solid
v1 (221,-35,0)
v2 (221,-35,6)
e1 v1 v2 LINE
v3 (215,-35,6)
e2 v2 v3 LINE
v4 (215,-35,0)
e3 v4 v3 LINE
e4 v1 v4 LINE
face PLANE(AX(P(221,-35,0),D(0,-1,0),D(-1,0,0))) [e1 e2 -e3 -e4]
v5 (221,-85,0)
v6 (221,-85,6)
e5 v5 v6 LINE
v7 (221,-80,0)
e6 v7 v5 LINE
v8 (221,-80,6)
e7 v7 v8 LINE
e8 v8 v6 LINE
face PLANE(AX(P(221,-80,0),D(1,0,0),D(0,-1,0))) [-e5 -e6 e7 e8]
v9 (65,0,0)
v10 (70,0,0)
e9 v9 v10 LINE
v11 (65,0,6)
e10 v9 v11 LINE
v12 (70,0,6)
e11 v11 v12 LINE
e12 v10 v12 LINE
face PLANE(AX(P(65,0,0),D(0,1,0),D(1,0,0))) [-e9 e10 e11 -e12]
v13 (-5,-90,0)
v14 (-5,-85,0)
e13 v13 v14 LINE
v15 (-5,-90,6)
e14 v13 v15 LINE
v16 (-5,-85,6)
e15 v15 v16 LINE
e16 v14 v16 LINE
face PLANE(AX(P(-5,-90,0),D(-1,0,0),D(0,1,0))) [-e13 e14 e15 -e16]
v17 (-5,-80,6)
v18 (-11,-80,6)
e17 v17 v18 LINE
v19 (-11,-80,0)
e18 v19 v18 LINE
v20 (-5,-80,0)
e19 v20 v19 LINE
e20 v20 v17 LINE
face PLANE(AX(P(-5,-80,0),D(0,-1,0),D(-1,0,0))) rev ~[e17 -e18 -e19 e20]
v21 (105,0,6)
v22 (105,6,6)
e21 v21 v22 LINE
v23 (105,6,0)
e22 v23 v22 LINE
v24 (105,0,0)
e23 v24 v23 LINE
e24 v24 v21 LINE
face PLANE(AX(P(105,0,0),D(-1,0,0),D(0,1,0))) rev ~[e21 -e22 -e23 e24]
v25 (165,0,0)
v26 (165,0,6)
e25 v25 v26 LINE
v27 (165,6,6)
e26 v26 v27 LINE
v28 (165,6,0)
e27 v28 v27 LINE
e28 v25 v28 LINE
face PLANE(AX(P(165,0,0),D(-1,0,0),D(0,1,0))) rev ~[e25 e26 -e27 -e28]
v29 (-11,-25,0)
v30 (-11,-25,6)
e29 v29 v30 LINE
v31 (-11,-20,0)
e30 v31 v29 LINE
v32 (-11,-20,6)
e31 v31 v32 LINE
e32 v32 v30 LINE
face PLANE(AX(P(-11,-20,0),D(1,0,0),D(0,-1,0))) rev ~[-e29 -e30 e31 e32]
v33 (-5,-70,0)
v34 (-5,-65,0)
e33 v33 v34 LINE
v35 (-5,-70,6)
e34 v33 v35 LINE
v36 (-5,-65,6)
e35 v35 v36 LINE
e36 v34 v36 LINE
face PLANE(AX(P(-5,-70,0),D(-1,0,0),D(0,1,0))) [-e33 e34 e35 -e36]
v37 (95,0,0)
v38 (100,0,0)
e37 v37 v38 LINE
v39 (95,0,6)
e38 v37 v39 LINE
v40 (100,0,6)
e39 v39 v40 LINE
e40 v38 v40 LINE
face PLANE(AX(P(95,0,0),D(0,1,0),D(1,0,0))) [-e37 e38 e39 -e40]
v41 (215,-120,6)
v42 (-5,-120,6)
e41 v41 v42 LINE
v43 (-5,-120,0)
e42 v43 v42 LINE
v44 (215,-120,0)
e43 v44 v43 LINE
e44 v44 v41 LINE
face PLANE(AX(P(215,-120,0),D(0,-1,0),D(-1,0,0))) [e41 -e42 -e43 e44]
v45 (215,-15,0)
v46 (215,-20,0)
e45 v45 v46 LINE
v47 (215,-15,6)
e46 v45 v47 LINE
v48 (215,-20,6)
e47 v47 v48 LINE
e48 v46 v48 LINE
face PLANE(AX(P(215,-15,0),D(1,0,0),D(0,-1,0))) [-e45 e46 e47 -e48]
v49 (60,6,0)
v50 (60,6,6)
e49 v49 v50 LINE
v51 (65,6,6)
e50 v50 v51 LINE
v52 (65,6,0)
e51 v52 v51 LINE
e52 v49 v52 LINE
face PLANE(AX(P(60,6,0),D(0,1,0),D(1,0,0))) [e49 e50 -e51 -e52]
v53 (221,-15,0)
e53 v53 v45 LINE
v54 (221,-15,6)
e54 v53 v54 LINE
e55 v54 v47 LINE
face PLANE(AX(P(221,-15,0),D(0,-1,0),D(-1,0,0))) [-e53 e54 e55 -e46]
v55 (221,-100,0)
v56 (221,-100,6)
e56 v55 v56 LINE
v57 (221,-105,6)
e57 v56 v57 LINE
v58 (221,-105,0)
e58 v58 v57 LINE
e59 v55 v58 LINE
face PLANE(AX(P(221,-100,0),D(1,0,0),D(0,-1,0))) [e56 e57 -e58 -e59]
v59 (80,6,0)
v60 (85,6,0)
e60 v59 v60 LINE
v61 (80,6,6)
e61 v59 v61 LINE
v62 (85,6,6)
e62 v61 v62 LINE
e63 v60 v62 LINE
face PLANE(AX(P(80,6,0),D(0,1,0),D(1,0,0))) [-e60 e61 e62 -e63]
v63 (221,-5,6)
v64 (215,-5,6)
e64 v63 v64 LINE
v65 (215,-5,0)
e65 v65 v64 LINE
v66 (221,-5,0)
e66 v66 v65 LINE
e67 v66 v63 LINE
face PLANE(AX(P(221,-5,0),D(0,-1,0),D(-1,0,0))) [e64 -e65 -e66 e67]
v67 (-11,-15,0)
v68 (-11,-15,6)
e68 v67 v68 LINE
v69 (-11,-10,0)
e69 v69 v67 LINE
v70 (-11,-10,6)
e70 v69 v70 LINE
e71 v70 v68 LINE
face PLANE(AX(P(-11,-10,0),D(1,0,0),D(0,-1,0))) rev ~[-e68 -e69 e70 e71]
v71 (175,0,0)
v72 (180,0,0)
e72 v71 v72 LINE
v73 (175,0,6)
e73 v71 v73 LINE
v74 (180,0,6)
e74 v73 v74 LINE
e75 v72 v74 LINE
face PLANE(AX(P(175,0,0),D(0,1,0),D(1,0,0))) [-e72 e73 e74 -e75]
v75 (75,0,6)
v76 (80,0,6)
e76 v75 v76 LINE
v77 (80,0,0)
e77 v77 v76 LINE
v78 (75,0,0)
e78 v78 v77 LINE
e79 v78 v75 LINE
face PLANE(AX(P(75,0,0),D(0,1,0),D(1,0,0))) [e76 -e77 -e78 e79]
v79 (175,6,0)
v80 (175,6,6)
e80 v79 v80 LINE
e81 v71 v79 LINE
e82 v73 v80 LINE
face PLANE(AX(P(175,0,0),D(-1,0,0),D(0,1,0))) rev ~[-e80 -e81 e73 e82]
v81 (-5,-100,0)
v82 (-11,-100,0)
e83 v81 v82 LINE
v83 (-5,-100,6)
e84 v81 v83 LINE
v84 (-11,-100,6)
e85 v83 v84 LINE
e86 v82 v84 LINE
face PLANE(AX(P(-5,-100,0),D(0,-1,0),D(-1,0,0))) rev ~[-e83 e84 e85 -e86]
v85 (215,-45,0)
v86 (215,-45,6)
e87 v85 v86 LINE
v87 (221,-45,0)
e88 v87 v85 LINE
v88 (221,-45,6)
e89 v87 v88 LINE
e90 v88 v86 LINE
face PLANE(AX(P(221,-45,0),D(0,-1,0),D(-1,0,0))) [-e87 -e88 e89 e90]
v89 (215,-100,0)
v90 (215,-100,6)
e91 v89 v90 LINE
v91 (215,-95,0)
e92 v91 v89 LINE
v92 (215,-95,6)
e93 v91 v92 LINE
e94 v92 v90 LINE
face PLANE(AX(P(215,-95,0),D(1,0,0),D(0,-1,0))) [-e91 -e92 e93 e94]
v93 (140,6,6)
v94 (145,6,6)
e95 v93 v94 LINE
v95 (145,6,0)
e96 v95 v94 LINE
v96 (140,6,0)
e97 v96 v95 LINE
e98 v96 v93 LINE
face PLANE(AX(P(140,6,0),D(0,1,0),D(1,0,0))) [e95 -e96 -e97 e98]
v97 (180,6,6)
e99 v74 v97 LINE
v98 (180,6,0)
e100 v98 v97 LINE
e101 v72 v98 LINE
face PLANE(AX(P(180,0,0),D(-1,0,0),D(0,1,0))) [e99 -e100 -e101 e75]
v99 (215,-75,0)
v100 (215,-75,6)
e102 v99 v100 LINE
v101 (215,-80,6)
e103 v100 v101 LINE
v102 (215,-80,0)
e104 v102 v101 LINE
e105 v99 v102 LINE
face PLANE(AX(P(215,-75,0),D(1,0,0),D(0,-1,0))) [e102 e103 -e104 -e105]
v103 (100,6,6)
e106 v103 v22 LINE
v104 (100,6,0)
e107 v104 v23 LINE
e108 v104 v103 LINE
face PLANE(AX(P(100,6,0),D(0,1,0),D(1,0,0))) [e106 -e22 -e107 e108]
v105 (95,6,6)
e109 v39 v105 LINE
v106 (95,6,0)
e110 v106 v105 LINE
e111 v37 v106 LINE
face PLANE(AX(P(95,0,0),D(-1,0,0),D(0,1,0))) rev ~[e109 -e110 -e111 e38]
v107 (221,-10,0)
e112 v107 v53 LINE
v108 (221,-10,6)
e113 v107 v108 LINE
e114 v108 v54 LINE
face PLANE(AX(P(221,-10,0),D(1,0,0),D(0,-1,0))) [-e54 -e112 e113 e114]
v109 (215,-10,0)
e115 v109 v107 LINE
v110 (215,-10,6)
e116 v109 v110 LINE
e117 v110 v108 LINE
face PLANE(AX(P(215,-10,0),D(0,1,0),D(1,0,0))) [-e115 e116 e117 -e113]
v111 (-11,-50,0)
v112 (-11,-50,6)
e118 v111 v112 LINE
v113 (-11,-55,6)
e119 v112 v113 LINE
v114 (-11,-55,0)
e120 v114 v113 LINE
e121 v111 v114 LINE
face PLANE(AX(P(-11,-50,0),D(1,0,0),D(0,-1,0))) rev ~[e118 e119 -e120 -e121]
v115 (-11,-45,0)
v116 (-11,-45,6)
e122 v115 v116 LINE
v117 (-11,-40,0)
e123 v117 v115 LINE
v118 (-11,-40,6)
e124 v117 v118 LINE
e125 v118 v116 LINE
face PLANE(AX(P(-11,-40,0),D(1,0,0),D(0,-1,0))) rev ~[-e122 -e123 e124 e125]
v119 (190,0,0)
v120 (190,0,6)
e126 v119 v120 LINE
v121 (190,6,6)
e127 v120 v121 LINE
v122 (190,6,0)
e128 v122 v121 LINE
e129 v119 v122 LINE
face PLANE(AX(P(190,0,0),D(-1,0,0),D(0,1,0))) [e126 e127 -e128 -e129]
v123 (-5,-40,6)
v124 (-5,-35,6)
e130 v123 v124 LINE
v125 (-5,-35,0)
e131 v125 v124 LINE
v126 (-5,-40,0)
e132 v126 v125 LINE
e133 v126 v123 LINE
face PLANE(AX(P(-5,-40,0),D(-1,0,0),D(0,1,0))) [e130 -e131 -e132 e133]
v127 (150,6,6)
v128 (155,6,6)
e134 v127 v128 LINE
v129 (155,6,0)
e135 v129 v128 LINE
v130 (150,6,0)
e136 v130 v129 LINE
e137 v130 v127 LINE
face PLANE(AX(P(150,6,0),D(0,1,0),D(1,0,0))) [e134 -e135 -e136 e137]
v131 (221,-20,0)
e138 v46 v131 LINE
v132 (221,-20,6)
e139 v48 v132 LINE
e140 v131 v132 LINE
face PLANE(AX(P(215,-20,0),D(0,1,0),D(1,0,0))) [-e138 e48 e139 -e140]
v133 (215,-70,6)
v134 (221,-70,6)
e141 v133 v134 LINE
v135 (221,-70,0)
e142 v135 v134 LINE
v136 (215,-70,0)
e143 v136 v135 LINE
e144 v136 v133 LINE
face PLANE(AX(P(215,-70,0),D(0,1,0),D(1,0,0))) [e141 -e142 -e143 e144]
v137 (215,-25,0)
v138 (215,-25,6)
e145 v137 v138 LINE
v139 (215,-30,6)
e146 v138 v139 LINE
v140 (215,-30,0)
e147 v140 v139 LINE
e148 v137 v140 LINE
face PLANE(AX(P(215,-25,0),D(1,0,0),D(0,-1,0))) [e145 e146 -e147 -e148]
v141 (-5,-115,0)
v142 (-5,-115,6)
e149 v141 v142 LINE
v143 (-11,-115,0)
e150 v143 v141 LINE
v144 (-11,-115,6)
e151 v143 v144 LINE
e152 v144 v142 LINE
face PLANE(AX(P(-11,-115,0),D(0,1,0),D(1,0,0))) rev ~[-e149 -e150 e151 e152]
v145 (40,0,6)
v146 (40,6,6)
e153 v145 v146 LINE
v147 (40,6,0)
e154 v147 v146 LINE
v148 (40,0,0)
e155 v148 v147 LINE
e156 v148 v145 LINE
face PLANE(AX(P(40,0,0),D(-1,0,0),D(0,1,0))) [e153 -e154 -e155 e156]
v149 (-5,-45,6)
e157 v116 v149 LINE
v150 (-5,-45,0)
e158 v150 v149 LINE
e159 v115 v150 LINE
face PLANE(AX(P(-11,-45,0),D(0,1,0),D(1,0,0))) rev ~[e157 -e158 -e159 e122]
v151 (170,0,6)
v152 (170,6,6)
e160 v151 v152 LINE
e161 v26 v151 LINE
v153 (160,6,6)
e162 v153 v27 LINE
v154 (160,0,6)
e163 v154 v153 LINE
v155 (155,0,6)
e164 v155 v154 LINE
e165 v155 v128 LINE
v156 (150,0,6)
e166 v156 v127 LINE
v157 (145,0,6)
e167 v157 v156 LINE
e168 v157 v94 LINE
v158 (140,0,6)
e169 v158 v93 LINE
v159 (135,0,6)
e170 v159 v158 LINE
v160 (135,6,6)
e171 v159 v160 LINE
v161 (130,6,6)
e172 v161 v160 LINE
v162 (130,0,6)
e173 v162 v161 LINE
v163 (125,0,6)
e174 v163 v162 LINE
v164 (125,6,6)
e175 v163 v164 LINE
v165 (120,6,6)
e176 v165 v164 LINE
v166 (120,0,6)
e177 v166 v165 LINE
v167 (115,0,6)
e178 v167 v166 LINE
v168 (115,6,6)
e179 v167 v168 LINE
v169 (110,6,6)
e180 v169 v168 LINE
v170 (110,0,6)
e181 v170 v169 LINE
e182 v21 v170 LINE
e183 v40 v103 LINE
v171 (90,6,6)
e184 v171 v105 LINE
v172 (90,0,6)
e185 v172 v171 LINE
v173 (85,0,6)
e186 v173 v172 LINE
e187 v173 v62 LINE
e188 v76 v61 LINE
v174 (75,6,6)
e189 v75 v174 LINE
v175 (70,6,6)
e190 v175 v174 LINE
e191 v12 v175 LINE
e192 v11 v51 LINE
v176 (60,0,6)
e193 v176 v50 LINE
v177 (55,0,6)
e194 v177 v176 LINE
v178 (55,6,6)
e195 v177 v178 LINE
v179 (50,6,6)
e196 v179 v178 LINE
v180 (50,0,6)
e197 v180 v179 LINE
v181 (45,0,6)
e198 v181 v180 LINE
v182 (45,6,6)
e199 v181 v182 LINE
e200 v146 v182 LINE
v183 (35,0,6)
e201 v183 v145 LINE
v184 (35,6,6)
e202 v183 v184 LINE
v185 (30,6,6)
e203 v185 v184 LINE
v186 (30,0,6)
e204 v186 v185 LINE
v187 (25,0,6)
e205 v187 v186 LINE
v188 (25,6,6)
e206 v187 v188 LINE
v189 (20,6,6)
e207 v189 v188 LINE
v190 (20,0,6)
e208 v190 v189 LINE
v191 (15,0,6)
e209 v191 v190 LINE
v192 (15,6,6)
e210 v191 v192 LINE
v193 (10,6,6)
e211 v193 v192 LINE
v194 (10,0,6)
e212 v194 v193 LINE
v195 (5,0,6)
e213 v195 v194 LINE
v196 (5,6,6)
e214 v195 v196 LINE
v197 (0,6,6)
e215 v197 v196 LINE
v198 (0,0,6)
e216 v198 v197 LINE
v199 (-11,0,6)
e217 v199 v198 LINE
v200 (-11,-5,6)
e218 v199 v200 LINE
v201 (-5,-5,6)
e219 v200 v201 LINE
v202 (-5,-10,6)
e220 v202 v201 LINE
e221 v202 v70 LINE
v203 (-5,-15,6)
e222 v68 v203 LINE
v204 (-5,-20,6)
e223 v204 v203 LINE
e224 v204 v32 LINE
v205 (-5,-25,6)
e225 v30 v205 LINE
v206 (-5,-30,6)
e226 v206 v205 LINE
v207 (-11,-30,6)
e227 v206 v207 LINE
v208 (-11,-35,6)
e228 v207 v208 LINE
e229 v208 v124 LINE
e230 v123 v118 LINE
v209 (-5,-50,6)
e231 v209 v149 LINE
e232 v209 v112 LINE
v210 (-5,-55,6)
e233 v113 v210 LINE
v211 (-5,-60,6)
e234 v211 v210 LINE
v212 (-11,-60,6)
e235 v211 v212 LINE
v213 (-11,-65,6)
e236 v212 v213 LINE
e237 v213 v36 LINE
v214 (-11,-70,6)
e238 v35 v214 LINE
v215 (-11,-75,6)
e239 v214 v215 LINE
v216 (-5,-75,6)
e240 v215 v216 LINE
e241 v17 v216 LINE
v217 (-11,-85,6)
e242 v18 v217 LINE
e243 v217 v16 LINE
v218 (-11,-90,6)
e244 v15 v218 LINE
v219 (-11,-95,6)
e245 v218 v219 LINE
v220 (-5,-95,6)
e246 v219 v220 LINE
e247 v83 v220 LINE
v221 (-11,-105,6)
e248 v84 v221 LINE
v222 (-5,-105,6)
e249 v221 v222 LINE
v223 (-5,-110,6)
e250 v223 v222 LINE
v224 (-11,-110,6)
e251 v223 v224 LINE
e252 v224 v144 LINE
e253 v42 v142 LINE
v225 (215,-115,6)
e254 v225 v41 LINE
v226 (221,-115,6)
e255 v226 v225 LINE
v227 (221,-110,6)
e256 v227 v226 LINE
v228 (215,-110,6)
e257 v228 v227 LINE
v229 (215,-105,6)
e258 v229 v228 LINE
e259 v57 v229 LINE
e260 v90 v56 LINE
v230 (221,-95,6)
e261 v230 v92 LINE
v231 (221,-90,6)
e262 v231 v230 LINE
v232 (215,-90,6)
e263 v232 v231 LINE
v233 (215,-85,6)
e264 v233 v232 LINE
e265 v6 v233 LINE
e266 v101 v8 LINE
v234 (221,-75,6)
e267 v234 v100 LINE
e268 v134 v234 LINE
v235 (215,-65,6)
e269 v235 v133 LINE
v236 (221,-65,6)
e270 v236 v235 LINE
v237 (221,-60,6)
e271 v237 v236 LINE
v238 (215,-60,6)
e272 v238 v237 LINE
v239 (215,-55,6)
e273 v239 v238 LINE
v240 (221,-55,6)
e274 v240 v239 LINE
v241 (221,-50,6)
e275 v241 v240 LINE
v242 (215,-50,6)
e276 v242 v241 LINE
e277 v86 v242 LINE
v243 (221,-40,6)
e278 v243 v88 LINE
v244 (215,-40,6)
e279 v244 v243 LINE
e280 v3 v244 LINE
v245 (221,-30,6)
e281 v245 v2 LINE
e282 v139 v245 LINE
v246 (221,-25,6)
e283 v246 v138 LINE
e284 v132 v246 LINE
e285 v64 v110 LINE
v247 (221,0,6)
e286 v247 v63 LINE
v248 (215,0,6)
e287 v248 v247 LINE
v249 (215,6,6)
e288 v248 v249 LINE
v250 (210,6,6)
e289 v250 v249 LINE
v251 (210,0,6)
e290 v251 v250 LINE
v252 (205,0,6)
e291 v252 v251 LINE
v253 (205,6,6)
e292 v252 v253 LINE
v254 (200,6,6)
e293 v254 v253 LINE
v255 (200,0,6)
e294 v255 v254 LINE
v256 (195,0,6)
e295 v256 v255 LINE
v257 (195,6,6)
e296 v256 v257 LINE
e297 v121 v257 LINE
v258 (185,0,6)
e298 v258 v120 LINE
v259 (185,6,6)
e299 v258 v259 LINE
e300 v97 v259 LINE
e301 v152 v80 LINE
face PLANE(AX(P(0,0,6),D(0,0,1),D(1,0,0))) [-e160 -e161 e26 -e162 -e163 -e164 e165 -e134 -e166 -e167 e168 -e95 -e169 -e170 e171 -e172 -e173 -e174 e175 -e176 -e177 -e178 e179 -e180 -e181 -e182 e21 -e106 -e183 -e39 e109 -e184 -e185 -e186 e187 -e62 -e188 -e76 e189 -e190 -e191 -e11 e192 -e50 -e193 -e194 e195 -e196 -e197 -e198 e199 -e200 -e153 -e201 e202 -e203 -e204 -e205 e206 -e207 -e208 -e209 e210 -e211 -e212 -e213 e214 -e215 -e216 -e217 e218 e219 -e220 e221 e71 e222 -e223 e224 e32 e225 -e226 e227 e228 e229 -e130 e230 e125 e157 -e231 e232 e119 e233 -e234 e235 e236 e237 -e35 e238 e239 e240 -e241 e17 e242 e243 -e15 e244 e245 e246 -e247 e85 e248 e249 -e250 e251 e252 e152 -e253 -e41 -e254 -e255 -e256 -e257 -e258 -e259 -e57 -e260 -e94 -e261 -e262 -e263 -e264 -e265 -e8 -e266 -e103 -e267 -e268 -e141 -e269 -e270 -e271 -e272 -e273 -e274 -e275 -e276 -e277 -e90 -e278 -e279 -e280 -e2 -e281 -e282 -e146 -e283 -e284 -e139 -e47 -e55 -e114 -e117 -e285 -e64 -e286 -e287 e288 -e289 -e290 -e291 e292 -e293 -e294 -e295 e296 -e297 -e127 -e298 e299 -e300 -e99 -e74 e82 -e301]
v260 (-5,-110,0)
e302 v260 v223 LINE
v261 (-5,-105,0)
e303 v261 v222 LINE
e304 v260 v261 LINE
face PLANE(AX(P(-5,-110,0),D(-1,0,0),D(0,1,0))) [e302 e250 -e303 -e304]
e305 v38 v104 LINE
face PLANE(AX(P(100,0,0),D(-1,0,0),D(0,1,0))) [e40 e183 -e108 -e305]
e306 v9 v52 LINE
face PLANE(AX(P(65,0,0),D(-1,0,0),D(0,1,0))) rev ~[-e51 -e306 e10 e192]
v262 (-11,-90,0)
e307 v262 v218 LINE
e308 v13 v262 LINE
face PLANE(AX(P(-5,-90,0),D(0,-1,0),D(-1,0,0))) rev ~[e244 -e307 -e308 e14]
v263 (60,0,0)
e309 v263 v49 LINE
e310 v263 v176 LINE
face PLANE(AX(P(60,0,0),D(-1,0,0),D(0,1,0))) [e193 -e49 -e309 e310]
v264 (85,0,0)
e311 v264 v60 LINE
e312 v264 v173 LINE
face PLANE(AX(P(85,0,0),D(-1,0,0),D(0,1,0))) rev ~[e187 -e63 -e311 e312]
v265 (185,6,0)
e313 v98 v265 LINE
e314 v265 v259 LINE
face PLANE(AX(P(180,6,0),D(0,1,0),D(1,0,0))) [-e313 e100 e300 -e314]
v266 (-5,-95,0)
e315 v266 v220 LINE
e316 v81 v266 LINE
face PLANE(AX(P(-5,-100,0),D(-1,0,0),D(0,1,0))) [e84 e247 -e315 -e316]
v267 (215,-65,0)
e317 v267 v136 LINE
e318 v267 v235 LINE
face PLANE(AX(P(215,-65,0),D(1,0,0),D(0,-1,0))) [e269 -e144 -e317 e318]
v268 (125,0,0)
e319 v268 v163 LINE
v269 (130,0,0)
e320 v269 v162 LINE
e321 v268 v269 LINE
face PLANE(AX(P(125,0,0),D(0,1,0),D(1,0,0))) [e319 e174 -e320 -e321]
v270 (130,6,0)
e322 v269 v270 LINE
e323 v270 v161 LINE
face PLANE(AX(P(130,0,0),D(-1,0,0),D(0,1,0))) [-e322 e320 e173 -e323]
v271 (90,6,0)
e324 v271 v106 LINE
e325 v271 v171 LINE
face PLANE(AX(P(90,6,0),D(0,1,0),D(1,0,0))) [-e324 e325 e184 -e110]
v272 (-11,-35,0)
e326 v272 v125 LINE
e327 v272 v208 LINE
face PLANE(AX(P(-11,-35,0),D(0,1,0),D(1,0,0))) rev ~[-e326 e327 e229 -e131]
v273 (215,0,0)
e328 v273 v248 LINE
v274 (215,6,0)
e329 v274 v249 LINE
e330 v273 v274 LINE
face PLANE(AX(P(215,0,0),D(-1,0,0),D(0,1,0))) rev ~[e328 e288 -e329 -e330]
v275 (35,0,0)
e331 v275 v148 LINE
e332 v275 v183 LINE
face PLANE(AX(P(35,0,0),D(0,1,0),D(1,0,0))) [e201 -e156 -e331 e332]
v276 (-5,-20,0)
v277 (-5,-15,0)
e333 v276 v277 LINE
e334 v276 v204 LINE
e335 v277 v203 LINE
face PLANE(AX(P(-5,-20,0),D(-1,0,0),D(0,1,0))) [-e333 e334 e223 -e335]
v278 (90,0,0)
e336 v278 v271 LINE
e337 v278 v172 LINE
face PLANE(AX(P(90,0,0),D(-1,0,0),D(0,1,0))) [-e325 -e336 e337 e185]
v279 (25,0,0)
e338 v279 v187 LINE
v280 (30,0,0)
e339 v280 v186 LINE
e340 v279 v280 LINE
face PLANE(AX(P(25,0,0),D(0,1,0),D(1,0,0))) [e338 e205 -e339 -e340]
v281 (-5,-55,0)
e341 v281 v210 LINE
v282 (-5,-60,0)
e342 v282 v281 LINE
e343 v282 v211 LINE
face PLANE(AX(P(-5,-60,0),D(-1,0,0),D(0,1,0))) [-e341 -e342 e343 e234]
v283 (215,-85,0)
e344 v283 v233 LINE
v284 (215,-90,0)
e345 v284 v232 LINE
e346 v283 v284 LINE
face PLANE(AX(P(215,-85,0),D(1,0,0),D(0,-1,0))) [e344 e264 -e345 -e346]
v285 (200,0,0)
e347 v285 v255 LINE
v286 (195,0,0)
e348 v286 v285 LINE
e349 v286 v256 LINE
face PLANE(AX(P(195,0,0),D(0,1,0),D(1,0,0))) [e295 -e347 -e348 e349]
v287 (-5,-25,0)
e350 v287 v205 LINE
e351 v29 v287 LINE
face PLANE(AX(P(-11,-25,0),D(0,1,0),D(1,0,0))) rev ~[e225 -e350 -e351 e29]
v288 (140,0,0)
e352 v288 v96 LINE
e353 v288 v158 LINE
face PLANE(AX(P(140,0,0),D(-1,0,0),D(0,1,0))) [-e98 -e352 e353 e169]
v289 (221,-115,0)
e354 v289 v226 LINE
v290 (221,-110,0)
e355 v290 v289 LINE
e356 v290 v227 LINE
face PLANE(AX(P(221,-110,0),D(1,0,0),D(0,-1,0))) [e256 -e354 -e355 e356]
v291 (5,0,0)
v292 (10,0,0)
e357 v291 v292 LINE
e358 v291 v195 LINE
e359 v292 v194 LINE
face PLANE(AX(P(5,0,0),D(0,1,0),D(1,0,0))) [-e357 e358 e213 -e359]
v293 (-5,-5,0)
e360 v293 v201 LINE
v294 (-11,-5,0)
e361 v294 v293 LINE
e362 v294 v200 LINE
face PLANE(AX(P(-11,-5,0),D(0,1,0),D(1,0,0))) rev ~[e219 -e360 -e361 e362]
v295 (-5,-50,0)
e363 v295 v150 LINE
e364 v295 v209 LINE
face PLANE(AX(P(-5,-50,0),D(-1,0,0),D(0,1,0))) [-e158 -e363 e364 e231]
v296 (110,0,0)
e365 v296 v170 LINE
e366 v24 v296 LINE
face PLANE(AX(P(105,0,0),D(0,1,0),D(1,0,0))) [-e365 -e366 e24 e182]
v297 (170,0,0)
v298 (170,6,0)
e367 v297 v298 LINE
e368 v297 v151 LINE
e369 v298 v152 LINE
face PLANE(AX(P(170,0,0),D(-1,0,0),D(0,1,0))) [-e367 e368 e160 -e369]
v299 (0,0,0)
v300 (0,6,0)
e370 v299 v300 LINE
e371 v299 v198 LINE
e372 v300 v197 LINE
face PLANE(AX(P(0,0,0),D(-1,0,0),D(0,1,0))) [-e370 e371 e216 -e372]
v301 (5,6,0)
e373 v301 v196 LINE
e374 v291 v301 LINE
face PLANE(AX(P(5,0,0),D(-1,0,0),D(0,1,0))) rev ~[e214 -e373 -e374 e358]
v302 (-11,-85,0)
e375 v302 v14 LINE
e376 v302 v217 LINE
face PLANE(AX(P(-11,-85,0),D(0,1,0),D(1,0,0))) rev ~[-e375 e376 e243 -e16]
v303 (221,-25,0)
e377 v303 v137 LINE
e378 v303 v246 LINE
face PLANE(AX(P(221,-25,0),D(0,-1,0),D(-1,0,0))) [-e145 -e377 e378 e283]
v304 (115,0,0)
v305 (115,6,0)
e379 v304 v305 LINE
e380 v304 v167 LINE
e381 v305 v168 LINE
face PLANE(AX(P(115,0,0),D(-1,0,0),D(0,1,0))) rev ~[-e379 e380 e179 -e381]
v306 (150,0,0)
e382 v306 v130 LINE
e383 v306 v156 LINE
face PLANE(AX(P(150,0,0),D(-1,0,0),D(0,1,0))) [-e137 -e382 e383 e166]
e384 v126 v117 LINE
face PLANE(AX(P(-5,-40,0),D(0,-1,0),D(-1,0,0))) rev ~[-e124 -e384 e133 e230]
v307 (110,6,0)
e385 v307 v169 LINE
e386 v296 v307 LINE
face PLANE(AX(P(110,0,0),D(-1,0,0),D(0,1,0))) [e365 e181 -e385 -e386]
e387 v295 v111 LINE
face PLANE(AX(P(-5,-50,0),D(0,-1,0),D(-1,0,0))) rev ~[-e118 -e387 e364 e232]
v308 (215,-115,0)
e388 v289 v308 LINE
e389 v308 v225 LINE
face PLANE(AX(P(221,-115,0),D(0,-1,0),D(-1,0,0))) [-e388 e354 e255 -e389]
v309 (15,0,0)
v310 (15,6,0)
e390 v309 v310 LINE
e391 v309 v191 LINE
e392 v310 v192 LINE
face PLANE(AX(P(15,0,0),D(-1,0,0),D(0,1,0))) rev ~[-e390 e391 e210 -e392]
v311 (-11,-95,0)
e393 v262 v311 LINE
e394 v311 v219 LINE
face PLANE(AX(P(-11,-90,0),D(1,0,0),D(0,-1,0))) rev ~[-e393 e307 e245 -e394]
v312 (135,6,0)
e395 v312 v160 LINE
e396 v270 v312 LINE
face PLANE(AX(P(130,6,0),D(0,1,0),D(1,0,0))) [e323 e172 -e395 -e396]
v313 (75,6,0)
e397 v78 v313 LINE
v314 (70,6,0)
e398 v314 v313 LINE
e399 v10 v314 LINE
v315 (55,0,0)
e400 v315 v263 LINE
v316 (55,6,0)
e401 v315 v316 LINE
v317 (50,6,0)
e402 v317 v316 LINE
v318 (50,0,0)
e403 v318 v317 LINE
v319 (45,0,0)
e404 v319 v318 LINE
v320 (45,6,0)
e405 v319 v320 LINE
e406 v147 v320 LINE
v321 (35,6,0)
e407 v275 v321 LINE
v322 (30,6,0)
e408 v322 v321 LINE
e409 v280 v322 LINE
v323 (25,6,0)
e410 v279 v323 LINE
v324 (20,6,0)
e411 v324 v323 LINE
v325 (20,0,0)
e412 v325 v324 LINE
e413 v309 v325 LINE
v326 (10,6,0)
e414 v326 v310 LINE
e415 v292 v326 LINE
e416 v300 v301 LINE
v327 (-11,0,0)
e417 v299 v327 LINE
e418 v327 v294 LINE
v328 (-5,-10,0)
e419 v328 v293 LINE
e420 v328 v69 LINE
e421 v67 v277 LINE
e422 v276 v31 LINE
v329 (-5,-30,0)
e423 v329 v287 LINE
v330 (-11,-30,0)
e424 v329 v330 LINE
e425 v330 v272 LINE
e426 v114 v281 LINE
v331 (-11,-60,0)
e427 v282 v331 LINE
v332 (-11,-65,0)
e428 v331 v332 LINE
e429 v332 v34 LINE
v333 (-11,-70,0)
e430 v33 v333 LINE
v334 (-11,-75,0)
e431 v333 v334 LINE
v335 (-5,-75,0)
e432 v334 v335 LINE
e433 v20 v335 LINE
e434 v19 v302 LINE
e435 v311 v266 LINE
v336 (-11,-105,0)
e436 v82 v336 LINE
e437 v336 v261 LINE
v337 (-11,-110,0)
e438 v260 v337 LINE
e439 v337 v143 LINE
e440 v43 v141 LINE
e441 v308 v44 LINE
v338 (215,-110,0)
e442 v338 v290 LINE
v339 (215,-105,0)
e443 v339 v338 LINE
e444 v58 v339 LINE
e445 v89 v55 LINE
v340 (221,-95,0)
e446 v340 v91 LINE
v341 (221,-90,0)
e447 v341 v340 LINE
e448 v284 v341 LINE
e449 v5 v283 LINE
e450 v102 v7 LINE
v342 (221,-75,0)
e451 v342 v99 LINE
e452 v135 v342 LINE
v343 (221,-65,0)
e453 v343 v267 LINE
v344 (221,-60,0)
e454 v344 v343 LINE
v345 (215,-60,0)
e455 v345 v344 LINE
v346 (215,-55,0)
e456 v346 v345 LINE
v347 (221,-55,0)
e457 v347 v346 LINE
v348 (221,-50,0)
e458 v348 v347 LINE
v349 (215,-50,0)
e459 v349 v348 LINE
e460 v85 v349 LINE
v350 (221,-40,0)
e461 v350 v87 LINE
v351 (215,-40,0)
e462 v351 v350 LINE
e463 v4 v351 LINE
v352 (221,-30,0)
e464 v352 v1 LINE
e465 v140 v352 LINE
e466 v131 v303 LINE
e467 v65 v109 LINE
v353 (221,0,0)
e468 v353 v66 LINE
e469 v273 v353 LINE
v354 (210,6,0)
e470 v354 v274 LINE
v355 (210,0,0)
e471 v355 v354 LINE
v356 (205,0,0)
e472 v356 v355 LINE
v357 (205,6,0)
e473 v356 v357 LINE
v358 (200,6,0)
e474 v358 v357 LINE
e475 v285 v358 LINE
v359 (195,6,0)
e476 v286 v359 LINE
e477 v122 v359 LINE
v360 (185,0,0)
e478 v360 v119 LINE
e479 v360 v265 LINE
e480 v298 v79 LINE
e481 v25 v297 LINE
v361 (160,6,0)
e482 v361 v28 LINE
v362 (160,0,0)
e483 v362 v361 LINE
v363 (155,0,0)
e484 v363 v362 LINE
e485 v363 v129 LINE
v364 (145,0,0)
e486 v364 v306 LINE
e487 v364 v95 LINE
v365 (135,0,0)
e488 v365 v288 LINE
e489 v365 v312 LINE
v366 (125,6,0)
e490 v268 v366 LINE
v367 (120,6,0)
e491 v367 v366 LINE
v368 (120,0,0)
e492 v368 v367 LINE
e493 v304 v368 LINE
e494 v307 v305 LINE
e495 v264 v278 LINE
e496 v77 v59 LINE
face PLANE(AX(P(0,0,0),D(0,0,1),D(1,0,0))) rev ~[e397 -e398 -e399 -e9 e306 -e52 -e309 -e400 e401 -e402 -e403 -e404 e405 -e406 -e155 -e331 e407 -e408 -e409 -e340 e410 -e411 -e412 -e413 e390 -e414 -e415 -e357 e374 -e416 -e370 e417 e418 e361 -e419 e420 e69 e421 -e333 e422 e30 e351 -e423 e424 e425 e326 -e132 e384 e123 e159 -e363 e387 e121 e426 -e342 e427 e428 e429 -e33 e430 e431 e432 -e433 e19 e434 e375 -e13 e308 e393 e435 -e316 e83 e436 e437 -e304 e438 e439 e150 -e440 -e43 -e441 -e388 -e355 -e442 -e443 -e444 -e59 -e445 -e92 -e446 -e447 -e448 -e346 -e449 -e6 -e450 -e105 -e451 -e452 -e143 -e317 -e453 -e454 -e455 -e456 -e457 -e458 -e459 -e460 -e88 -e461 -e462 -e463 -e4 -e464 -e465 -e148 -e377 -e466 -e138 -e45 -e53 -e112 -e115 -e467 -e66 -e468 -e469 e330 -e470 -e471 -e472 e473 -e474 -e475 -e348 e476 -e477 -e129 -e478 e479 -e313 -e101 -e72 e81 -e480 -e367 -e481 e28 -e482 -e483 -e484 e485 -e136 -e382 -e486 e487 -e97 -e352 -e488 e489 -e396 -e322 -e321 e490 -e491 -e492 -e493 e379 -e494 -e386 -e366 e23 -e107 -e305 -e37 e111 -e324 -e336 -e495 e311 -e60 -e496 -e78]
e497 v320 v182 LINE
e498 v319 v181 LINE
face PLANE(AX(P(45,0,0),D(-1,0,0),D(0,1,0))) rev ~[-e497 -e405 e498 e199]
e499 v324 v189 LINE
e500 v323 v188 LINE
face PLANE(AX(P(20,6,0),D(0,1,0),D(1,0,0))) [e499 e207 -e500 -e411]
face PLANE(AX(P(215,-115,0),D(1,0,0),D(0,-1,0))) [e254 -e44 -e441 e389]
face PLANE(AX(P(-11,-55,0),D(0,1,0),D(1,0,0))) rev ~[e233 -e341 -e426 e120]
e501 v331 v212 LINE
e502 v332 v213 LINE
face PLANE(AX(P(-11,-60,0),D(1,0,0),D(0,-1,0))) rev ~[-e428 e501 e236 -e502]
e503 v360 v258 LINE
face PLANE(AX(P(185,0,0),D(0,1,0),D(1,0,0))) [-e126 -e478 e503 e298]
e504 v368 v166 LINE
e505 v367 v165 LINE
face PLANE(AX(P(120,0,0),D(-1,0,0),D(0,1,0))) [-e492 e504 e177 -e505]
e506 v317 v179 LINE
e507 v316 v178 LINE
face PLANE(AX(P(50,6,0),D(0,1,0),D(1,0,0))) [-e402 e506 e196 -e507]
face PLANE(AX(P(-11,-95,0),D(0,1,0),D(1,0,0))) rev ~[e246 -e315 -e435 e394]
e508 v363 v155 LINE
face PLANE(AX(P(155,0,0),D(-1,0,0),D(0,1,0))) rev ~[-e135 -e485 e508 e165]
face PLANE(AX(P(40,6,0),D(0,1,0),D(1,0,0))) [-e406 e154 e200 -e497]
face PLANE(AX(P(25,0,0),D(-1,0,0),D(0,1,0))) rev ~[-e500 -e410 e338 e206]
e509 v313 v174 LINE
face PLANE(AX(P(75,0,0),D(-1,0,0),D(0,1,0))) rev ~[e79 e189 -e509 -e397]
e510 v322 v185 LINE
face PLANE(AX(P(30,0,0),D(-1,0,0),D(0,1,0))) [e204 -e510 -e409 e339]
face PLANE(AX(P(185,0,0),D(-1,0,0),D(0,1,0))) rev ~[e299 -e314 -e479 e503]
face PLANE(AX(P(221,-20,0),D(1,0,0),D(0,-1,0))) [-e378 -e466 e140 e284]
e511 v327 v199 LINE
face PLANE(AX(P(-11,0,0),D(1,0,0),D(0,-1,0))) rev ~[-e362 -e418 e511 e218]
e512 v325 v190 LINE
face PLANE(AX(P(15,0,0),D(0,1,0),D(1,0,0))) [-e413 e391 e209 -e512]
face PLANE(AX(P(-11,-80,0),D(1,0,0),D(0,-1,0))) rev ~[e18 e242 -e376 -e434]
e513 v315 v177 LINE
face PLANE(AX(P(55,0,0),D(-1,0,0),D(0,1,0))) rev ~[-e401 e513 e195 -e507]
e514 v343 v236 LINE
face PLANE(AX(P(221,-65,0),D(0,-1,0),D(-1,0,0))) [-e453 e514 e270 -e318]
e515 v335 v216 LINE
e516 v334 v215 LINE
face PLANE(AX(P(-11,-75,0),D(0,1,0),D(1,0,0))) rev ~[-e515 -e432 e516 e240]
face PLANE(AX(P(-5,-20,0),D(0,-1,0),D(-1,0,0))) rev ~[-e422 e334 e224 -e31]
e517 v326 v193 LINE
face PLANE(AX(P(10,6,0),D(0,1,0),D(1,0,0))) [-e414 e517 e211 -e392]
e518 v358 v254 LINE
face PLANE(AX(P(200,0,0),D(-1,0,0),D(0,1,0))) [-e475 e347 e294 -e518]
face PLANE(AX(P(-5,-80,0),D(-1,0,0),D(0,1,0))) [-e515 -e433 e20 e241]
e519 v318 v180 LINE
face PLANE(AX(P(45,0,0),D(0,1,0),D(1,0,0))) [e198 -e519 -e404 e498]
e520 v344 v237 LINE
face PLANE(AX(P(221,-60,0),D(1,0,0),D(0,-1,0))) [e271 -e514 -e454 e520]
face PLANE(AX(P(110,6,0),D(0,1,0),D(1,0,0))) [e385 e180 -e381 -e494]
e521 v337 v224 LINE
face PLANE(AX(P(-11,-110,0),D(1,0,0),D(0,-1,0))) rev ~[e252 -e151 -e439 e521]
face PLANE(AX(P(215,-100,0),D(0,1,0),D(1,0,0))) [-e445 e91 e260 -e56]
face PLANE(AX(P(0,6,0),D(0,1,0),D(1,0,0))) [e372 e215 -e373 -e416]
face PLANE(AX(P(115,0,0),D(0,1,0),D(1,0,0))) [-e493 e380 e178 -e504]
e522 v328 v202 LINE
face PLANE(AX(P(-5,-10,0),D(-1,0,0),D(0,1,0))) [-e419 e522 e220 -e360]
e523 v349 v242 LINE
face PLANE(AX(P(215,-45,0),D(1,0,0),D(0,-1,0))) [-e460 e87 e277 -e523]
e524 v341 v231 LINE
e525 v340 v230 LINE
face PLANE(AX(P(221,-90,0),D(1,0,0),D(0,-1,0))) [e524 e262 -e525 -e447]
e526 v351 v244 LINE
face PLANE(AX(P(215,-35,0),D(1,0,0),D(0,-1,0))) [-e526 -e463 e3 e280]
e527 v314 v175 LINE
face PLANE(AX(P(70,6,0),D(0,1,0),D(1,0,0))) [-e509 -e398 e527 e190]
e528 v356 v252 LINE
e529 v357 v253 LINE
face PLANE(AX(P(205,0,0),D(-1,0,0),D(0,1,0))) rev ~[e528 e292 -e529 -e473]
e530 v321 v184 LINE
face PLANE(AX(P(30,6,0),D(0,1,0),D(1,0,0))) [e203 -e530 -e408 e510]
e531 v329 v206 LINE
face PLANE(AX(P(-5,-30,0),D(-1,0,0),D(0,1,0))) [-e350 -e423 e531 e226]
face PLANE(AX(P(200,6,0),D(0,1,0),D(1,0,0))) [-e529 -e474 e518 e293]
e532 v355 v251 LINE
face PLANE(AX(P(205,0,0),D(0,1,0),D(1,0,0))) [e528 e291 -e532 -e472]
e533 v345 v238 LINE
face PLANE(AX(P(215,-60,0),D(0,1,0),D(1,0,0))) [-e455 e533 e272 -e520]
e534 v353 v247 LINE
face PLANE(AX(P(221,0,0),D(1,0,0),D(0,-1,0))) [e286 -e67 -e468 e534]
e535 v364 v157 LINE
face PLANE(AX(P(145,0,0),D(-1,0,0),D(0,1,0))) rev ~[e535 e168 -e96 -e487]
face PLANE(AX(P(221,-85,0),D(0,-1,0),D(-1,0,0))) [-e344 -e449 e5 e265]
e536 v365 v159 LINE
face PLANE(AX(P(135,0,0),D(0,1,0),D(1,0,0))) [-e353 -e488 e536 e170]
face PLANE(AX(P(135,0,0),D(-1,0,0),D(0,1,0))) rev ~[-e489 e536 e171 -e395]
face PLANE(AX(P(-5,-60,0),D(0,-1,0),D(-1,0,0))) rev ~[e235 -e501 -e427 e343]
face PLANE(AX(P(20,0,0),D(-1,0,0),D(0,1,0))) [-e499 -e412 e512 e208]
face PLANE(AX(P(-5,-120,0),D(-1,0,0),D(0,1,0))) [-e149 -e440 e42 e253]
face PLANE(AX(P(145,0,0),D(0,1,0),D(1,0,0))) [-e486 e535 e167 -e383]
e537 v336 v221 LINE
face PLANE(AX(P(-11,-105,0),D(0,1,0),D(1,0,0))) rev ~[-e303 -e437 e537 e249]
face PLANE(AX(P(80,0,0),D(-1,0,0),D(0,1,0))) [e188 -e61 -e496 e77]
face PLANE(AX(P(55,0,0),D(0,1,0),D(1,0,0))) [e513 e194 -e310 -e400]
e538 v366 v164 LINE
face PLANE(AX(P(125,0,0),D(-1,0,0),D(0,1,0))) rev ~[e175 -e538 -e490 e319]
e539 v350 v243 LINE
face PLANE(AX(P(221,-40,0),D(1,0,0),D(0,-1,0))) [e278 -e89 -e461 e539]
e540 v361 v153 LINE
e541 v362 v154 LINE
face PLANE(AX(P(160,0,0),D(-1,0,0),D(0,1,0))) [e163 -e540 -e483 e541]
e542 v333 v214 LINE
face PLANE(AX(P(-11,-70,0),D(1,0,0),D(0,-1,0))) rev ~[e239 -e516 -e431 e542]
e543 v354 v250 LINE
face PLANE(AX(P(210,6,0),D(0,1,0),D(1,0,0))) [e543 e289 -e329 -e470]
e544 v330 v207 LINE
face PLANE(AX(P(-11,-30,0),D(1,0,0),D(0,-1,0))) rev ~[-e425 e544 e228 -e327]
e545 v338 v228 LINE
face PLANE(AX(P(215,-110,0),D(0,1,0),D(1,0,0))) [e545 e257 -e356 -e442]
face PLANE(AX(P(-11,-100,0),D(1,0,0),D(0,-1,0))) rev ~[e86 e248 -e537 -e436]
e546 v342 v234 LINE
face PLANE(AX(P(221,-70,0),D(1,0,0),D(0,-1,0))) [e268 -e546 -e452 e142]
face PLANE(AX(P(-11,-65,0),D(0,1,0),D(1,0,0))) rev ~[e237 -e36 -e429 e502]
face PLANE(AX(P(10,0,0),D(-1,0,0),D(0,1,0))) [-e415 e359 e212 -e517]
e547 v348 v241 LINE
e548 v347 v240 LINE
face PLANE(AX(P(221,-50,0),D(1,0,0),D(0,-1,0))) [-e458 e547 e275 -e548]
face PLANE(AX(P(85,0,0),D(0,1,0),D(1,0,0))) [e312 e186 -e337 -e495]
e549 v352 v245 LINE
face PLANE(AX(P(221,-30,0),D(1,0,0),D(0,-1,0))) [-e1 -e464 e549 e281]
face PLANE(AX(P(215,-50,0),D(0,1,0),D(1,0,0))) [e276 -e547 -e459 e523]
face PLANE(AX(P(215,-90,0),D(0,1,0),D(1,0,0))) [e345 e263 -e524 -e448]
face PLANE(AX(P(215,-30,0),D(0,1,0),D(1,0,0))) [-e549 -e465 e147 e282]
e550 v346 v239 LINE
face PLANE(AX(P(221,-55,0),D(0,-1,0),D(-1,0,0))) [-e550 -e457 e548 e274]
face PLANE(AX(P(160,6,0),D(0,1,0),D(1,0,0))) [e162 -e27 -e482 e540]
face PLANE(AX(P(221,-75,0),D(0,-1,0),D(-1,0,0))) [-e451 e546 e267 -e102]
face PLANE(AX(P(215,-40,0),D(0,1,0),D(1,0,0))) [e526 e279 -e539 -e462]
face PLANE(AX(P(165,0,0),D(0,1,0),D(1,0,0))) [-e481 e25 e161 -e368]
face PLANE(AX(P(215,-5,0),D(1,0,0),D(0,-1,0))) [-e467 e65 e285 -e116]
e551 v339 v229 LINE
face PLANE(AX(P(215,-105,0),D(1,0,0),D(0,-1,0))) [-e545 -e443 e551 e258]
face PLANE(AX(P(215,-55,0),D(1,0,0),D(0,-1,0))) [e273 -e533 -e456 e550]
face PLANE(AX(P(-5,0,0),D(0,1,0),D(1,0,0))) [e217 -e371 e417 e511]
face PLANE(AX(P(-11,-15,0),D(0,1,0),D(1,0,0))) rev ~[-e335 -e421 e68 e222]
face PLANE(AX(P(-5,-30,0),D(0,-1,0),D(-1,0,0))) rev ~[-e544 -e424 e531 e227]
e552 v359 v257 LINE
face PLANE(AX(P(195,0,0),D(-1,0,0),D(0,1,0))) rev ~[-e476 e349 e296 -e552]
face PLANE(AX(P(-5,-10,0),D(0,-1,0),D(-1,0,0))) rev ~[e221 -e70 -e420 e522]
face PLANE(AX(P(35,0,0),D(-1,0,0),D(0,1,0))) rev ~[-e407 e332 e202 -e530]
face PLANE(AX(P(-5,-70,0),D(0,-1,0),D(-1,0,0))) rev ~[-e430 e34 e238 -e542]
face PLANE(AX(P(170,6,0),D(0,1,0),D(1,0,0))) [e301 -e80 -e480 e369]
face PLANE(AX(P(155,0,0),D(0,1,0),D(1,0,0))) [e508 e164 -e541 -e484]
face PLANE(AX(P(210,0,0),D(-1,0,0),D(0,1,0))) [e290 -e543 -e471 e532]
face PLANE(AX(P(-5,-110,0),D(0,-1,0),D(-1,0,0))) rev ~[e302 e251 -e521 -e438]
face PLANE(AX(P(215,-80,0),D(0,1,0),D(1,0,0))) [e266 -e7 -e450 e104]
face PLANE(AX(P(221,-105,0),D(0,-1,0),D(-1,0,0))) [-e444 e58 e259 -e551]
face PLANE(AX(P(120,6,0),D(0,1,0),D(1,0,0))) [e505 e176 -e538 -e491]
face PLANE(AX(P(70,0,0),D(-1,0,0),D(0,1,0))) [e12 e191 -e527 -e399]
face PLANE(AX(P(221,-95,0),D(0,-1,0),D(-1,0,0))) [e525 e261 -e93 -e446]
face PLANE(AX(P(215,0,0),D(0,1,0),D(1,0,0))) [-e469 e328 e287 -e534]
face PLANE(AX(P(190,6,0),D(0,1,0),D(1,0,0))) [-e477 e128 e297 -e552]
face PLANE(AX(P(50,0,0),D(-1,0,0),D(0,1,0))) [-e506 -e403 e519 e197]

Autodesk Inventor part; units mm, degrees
ref_plane "YZ Plane" through (0, 0, 0) normal (1, 0, 0) x (0, 1, 0)
ref_plane "XZ Plane" through (0, 0, 0) normal (0, 1, 0) x (-1, 0, 0)
ref_plane "XY Plane" through (0, 0, 0) normal (0, 0, 1) x (1, 0, 0)
sketch "Эскиз1" plane through (0, 0, 0) normal (0, 0, 1) x (1, 0, 0)
  line L0 (0, 0) -> (5, 0) projected
  line L1 (5, 0) -> (5, 6) projected
  line L2 (0, 6) -> (5, 6) projected
  line L3 (0, 0) -> (0, 6) projected
  line L4 (-5, 0) -> (0, 0) projected
  line L5 (10, 0) -> (15, 0) projected
  line L6 (15, 0) -> (15, 6) projected
  line L7 (10, 6) -> (15, 6) projected
  line L8 (10, 0) -> (10, 6) projected
  line L9 (20, 0) -> (25, 0) projected
  line L10 (25, 0) -> (25, 6) projected
  line L11 (20, 6) -> (25, 6) projected
  line L12 (20, 0) -> (20, 6) projected
  line L13 (30, 0) -> (35, 0) projected
  line L14 (35, 0) -> (35, 6) projected
  line L15 (30, 6) -> (35, 6) projected
  line L16 (30, 0) -> (30, 6) projected
  line L17 (40, 0) -> (45, 0) projected
  line L18 (45, 0) -> (45, 6) projected
  line L19 (40, 6) -> (45, 6) projected
  line L20 (40, 0) -> (40, 6) projected
  line L21 (50, 0) -> (55, 0) projected
  line L22 (55, 0) -> (55, 6) projected
  line L23 (50, 6) -> (55, 6) projected
  line L24 (50, 0) -> (50, 6) projected
  line L25 (60, 0) -> (65, 0) projected
  line L26 (65, 0) -> (65, 6) projected
  line L27 (60, 6) -> (65, 6) projected
  line L28 (60, 0) -> (60, 6) projected
  line L29 (70, 0) -> (75, 0) projected
  line L30 (75, 0) -> (75, 6) projected
  line L31 (70, 6) -> (75, 6) projected
  line L32 (70, 0) -> (70, 6) projected
  line L33 (80, 0) -> (85, 0) projected
  line L34 (85, 0) -> (85, 6) projected
  line L35 (80, 6) -> (85, 6) projected
  line L36 (80, 0) -> (80, 6) projected
  line L37 (90, 0) -> (95, 0) projected
  line L38 (95, 0) -> (95, 6) projected
  line L39 (90, 6) -> (95, 6) projected
  line L40 (90, 0) -> (90, 6) projected
  line L41 (100, 0) -> (105, 0) projected
  line L42 (105, 0) -> (105, 6) projected
  line L43 (100, 6) -> (105, 6) projected
  line L44 (100, 0) -> (100, 6) projected
  line L45 (110, 0) -> (115, 0) projected
  line L46 (115, 0) -> (115, 6) projected
  line L47 (110, 6) -> (115, 6) projected
  line L48 (110, 0) -> (110, 6) projected
  line L49 (120, 0) -> (125, 0) projected
  line L50 (125, 0) -> (125, 6) projected
  line L51 (120, 6) -> (125, 6) projected
  line L52 (120, 0) -> (120, 6) projected
  line L53 (130, 0) -> (135, 0) projected
  line L54 (135, 0) -> (135, 6) projected
  line L55 (130, 6) -> (135, 6) projected
  line L56 (130, 0) -> (130, 6) projected
  line L57 (140, 0) -> (145, 0) projected
  line L58 (145, 0) -> (145, 6) projected
  line L59 (140, 6) -> (145, 6) projected
  line L60 (140, 0) -> (140, 6) projected
  line L61 (150, 0) -> (155, 0) projected
  line L62 (155, 0) -> (155, 6) projected
  line L63 (150, 6) -> (155, 6) projected
  line L64 (150, 0) -> (150, 6) projected
  line L65 (165, 0) -> (165, 6) projected
  line L66 (160, 0) -> (165, 0) projected
  line L67 (165, 0) -> (165, 6) projected
  line L68 (160, 6) -> (165, 6) projected
  line L69 (160, 0) -> (160, 6) projected
  line L70 (170, 0) -> (175, 0) projected
  line L71 (175, 0) -> (175, 6) projected
  line L72 (170, 6) -> (175, 6) projected
  line L73 (170, 0) -> (170, 6) projected
  line L74 (180, 0) -> (185, 0) projected
  line L75 (185, 0) -> (185, 6) projected
  line L76 (180, 6) -> (185, 6) projected
  line L77 (180, 0) -> (180, 6) projected
  line L78 (190, 0) -> (195, 0) projected
  line L79 (195, 0) -> (195, 6) projected
  line L80 (190, 6) -> (195, 6) projected
  line L81 (190, 0) -> (190, 6) projected
  line L82 (200, 0) -> (205, 0) projected
  line L83 (205, 0) -> (205, 6) projected
  line L84 (200, 6) -> (205, 6) projected
  line L85 (200, 0) -> (200, 6) projected
  line L86 (210, 0) -> (221, 0) projected
  line L87 (205, 0) -> (210, 0) projected
  line L88 (215, 0) -> (215, 6) projected
  line L89 (-5, 0) -> (215, 0)
  line L90 (215, 0) -> (215, -120)
  line L91 (215, -120) -> (-5, -120)
  line L92 (-5, -120) -> (-5, 0)
  line L93 (215, 0) -> (210, 0)
  line L94 (210, 0) -> (210, 6)
  line L95 (210, 6) -> (215, 6)
  line L96 (215, 6) -> (215, 0)
  line L97 (-5, 0) -> (-11, 0)
  line L98 (-11, 0) -> (-11, -5)
  line L99 (-11, -5) -> (-5, -5)
  line L100 (-5, -5) -> (-5, 0)
  line L101 (-5, -10) -> (-11, -10)
  line L102 (-11, -10) -> (-11, -15)
  line L103 (-11, -15) -> (-5, -15)
  line L104 (-5, -15) -> (-5, -10)
  line L105 (-5, -20) -> (-11, -20)
  line L106 (-11, -20) -> (-11, -25)
  line L107 (-11, -25) -> (-5, -25)
  line L108 (-5, -25) -> (-5, -20)
  line L109 (-5, -30) -> (-11, -30)
  line L110 (-11, -30) -> (-11, -35)
  line L111 (-11, -35) -> (-5, -35)
  line L112 (-5, -35) -> (-5, -30)
  line L113 (-5, -40) -> (-11, -40)
  line L114 (-11, -40) -> (-11, -45)
  line L115 (-11, -45) -> (-5, -45)
  line L116 (-5, -45) -> (-5, -40)
  line L117 (-5, -50) -> (-11, -50)
  line L118 (-11, -50) -> (-11, -55)
  line L119 (-11, -55) -> (-5, -55)
  line L120 (-5, -55) -> (-5, -50)
  line L121 (-5, -60) -> (-11, -60)
  line L122 (-11, -60) -> (-11, -65)
  line L123 (-11, -65) -> (-5, -65)
  line L124 (-5, -65) -> (-5, -60)
  line L125 (-5, -70) -> (-11, -70)
  line L126 (-11, -70) -> (-11, -75)
  line L127 (-11, -75) -> (-5, -75)
  line L128 (-5, -75) -> (-5, -70)
  line L129 (-5, -80) -> (-11, -80)
  line L130 (-11, -80) -> (-11, -85)
  line L131 (-11, -85) -> (-5, -85)
  line L132 (-5, -85) -> (-5, -80)
  line L133 (-5, -90) -> (-11, -90)
  line L134 (-11, -90) -> (-11, -95)
  line L135 (-11, -95) -> (-5, -95)
  line L136 (-5, -95) -> (-5, -90)
  line L137 (-5, -100) -> (-11, -100)
  line L138 (-11, -100) -> (-11, -105)
  line L139 (-11, -105) -> (-5, -105)
  line L140 (-5, -105) -> (-5, -100)
  line L141 (-5, -110) -> (-11, -110)
  line L142 (-11, -110) -> (-11, -115)
  line L143 (-11, -115) -> (-5, -115)
  line L144 (-5, -115) -> (-5, -110)
  line L145 (215, 0) -> (221, 0)
  line L146 (221, 0) -> (221, -5)
  line L147 (221, -5) -> (215, -5)
  line L148 (215, -5) -> (215, 0)
  line L149 (215, -15) -> (215, -10)
  line L150 (215, -10) -> (221, -10)
  line L151 (221, -10) -> (221, -15)
  line L152 (221, -15) -> (215, -15)
  line L153 (215, -25) -> (215, -20)
  line L154 (215, -20) -> (221, -20)
  line L155 (221, -20) -> (221, -25)
  line L156 (221, -25) -> (215, -25)
  line L157 (215, -35) -> (215, -30)
  line L158 (215, -30) -> (221, -30)
  line L159 (221, -30) -> (221, -35)
  line L160 (221, -35) -> (215, -35)
  line L161 (215, -45) -> (215, -40)
  line L162 (215, -40) -> (221, -40)
  line L163 (221, -40) -> (221, -45)
  line L164 (221, -45) -> (215, -45)
  line L165 (215, -55) -> (215, -50)
  line L166 (215, -50) -> (221, -50)
  line L167 (221, -50) -> (221, -55)
  line L168 (221, -55) -> (215, -55)
  line L169 (215, -65) -> (215, -60)
  line L170 (215, -60) -> (221, -60)
  line L171 (221, -60) -> (221, -65)
  line L172 (221, -65) -> (215, -65)
  line L173 (215, -75) -> (215, -70)
  line L174 (215, -70) -> (221, -70)
  line L175 (221, -70) -> (221, -75)
  line L176 (221, -75) -> (215, -75)
  line L177 (215, -85) -> (215, -80)
  line L178 (215, -80) -> (221, -80)
  line L179 (221, -80) -> (221, -85)
  line L180 (221, -85) -> (215, -85)
  line L181 (215, -95) -> (215, -90)
  line L182 (215, -90) -> (221, -90)
  line L183 (221, -90) -> (221, -95)
  line L184 (221, -95) -> (215, -95)
  line L185 (215, -105) -> (215, -100)
  line L186 (215, -100) -> (221, -100)
  line L187 (221, -100) -> (221, -105)
  line L188 (221, -105) -> (215, -105)
  line L189 (215, -115) -> (215, -110)
  line L190 (215, -110) -> (221, -110)
  line L191 (221, -110) -> (221, -115)
  line L192 (221, -115) -> (215, -115)
  dimension "d0" = 120
  dimension "d1" = 6
  dimension "d2" = 5
  dimension "d5" = 10
  dimension "d10" = 5
  dimension "d13" = 10
extrude "Выдавливание1" add sketch "Эскиз1" along normal blind 6
properties part number "long"
